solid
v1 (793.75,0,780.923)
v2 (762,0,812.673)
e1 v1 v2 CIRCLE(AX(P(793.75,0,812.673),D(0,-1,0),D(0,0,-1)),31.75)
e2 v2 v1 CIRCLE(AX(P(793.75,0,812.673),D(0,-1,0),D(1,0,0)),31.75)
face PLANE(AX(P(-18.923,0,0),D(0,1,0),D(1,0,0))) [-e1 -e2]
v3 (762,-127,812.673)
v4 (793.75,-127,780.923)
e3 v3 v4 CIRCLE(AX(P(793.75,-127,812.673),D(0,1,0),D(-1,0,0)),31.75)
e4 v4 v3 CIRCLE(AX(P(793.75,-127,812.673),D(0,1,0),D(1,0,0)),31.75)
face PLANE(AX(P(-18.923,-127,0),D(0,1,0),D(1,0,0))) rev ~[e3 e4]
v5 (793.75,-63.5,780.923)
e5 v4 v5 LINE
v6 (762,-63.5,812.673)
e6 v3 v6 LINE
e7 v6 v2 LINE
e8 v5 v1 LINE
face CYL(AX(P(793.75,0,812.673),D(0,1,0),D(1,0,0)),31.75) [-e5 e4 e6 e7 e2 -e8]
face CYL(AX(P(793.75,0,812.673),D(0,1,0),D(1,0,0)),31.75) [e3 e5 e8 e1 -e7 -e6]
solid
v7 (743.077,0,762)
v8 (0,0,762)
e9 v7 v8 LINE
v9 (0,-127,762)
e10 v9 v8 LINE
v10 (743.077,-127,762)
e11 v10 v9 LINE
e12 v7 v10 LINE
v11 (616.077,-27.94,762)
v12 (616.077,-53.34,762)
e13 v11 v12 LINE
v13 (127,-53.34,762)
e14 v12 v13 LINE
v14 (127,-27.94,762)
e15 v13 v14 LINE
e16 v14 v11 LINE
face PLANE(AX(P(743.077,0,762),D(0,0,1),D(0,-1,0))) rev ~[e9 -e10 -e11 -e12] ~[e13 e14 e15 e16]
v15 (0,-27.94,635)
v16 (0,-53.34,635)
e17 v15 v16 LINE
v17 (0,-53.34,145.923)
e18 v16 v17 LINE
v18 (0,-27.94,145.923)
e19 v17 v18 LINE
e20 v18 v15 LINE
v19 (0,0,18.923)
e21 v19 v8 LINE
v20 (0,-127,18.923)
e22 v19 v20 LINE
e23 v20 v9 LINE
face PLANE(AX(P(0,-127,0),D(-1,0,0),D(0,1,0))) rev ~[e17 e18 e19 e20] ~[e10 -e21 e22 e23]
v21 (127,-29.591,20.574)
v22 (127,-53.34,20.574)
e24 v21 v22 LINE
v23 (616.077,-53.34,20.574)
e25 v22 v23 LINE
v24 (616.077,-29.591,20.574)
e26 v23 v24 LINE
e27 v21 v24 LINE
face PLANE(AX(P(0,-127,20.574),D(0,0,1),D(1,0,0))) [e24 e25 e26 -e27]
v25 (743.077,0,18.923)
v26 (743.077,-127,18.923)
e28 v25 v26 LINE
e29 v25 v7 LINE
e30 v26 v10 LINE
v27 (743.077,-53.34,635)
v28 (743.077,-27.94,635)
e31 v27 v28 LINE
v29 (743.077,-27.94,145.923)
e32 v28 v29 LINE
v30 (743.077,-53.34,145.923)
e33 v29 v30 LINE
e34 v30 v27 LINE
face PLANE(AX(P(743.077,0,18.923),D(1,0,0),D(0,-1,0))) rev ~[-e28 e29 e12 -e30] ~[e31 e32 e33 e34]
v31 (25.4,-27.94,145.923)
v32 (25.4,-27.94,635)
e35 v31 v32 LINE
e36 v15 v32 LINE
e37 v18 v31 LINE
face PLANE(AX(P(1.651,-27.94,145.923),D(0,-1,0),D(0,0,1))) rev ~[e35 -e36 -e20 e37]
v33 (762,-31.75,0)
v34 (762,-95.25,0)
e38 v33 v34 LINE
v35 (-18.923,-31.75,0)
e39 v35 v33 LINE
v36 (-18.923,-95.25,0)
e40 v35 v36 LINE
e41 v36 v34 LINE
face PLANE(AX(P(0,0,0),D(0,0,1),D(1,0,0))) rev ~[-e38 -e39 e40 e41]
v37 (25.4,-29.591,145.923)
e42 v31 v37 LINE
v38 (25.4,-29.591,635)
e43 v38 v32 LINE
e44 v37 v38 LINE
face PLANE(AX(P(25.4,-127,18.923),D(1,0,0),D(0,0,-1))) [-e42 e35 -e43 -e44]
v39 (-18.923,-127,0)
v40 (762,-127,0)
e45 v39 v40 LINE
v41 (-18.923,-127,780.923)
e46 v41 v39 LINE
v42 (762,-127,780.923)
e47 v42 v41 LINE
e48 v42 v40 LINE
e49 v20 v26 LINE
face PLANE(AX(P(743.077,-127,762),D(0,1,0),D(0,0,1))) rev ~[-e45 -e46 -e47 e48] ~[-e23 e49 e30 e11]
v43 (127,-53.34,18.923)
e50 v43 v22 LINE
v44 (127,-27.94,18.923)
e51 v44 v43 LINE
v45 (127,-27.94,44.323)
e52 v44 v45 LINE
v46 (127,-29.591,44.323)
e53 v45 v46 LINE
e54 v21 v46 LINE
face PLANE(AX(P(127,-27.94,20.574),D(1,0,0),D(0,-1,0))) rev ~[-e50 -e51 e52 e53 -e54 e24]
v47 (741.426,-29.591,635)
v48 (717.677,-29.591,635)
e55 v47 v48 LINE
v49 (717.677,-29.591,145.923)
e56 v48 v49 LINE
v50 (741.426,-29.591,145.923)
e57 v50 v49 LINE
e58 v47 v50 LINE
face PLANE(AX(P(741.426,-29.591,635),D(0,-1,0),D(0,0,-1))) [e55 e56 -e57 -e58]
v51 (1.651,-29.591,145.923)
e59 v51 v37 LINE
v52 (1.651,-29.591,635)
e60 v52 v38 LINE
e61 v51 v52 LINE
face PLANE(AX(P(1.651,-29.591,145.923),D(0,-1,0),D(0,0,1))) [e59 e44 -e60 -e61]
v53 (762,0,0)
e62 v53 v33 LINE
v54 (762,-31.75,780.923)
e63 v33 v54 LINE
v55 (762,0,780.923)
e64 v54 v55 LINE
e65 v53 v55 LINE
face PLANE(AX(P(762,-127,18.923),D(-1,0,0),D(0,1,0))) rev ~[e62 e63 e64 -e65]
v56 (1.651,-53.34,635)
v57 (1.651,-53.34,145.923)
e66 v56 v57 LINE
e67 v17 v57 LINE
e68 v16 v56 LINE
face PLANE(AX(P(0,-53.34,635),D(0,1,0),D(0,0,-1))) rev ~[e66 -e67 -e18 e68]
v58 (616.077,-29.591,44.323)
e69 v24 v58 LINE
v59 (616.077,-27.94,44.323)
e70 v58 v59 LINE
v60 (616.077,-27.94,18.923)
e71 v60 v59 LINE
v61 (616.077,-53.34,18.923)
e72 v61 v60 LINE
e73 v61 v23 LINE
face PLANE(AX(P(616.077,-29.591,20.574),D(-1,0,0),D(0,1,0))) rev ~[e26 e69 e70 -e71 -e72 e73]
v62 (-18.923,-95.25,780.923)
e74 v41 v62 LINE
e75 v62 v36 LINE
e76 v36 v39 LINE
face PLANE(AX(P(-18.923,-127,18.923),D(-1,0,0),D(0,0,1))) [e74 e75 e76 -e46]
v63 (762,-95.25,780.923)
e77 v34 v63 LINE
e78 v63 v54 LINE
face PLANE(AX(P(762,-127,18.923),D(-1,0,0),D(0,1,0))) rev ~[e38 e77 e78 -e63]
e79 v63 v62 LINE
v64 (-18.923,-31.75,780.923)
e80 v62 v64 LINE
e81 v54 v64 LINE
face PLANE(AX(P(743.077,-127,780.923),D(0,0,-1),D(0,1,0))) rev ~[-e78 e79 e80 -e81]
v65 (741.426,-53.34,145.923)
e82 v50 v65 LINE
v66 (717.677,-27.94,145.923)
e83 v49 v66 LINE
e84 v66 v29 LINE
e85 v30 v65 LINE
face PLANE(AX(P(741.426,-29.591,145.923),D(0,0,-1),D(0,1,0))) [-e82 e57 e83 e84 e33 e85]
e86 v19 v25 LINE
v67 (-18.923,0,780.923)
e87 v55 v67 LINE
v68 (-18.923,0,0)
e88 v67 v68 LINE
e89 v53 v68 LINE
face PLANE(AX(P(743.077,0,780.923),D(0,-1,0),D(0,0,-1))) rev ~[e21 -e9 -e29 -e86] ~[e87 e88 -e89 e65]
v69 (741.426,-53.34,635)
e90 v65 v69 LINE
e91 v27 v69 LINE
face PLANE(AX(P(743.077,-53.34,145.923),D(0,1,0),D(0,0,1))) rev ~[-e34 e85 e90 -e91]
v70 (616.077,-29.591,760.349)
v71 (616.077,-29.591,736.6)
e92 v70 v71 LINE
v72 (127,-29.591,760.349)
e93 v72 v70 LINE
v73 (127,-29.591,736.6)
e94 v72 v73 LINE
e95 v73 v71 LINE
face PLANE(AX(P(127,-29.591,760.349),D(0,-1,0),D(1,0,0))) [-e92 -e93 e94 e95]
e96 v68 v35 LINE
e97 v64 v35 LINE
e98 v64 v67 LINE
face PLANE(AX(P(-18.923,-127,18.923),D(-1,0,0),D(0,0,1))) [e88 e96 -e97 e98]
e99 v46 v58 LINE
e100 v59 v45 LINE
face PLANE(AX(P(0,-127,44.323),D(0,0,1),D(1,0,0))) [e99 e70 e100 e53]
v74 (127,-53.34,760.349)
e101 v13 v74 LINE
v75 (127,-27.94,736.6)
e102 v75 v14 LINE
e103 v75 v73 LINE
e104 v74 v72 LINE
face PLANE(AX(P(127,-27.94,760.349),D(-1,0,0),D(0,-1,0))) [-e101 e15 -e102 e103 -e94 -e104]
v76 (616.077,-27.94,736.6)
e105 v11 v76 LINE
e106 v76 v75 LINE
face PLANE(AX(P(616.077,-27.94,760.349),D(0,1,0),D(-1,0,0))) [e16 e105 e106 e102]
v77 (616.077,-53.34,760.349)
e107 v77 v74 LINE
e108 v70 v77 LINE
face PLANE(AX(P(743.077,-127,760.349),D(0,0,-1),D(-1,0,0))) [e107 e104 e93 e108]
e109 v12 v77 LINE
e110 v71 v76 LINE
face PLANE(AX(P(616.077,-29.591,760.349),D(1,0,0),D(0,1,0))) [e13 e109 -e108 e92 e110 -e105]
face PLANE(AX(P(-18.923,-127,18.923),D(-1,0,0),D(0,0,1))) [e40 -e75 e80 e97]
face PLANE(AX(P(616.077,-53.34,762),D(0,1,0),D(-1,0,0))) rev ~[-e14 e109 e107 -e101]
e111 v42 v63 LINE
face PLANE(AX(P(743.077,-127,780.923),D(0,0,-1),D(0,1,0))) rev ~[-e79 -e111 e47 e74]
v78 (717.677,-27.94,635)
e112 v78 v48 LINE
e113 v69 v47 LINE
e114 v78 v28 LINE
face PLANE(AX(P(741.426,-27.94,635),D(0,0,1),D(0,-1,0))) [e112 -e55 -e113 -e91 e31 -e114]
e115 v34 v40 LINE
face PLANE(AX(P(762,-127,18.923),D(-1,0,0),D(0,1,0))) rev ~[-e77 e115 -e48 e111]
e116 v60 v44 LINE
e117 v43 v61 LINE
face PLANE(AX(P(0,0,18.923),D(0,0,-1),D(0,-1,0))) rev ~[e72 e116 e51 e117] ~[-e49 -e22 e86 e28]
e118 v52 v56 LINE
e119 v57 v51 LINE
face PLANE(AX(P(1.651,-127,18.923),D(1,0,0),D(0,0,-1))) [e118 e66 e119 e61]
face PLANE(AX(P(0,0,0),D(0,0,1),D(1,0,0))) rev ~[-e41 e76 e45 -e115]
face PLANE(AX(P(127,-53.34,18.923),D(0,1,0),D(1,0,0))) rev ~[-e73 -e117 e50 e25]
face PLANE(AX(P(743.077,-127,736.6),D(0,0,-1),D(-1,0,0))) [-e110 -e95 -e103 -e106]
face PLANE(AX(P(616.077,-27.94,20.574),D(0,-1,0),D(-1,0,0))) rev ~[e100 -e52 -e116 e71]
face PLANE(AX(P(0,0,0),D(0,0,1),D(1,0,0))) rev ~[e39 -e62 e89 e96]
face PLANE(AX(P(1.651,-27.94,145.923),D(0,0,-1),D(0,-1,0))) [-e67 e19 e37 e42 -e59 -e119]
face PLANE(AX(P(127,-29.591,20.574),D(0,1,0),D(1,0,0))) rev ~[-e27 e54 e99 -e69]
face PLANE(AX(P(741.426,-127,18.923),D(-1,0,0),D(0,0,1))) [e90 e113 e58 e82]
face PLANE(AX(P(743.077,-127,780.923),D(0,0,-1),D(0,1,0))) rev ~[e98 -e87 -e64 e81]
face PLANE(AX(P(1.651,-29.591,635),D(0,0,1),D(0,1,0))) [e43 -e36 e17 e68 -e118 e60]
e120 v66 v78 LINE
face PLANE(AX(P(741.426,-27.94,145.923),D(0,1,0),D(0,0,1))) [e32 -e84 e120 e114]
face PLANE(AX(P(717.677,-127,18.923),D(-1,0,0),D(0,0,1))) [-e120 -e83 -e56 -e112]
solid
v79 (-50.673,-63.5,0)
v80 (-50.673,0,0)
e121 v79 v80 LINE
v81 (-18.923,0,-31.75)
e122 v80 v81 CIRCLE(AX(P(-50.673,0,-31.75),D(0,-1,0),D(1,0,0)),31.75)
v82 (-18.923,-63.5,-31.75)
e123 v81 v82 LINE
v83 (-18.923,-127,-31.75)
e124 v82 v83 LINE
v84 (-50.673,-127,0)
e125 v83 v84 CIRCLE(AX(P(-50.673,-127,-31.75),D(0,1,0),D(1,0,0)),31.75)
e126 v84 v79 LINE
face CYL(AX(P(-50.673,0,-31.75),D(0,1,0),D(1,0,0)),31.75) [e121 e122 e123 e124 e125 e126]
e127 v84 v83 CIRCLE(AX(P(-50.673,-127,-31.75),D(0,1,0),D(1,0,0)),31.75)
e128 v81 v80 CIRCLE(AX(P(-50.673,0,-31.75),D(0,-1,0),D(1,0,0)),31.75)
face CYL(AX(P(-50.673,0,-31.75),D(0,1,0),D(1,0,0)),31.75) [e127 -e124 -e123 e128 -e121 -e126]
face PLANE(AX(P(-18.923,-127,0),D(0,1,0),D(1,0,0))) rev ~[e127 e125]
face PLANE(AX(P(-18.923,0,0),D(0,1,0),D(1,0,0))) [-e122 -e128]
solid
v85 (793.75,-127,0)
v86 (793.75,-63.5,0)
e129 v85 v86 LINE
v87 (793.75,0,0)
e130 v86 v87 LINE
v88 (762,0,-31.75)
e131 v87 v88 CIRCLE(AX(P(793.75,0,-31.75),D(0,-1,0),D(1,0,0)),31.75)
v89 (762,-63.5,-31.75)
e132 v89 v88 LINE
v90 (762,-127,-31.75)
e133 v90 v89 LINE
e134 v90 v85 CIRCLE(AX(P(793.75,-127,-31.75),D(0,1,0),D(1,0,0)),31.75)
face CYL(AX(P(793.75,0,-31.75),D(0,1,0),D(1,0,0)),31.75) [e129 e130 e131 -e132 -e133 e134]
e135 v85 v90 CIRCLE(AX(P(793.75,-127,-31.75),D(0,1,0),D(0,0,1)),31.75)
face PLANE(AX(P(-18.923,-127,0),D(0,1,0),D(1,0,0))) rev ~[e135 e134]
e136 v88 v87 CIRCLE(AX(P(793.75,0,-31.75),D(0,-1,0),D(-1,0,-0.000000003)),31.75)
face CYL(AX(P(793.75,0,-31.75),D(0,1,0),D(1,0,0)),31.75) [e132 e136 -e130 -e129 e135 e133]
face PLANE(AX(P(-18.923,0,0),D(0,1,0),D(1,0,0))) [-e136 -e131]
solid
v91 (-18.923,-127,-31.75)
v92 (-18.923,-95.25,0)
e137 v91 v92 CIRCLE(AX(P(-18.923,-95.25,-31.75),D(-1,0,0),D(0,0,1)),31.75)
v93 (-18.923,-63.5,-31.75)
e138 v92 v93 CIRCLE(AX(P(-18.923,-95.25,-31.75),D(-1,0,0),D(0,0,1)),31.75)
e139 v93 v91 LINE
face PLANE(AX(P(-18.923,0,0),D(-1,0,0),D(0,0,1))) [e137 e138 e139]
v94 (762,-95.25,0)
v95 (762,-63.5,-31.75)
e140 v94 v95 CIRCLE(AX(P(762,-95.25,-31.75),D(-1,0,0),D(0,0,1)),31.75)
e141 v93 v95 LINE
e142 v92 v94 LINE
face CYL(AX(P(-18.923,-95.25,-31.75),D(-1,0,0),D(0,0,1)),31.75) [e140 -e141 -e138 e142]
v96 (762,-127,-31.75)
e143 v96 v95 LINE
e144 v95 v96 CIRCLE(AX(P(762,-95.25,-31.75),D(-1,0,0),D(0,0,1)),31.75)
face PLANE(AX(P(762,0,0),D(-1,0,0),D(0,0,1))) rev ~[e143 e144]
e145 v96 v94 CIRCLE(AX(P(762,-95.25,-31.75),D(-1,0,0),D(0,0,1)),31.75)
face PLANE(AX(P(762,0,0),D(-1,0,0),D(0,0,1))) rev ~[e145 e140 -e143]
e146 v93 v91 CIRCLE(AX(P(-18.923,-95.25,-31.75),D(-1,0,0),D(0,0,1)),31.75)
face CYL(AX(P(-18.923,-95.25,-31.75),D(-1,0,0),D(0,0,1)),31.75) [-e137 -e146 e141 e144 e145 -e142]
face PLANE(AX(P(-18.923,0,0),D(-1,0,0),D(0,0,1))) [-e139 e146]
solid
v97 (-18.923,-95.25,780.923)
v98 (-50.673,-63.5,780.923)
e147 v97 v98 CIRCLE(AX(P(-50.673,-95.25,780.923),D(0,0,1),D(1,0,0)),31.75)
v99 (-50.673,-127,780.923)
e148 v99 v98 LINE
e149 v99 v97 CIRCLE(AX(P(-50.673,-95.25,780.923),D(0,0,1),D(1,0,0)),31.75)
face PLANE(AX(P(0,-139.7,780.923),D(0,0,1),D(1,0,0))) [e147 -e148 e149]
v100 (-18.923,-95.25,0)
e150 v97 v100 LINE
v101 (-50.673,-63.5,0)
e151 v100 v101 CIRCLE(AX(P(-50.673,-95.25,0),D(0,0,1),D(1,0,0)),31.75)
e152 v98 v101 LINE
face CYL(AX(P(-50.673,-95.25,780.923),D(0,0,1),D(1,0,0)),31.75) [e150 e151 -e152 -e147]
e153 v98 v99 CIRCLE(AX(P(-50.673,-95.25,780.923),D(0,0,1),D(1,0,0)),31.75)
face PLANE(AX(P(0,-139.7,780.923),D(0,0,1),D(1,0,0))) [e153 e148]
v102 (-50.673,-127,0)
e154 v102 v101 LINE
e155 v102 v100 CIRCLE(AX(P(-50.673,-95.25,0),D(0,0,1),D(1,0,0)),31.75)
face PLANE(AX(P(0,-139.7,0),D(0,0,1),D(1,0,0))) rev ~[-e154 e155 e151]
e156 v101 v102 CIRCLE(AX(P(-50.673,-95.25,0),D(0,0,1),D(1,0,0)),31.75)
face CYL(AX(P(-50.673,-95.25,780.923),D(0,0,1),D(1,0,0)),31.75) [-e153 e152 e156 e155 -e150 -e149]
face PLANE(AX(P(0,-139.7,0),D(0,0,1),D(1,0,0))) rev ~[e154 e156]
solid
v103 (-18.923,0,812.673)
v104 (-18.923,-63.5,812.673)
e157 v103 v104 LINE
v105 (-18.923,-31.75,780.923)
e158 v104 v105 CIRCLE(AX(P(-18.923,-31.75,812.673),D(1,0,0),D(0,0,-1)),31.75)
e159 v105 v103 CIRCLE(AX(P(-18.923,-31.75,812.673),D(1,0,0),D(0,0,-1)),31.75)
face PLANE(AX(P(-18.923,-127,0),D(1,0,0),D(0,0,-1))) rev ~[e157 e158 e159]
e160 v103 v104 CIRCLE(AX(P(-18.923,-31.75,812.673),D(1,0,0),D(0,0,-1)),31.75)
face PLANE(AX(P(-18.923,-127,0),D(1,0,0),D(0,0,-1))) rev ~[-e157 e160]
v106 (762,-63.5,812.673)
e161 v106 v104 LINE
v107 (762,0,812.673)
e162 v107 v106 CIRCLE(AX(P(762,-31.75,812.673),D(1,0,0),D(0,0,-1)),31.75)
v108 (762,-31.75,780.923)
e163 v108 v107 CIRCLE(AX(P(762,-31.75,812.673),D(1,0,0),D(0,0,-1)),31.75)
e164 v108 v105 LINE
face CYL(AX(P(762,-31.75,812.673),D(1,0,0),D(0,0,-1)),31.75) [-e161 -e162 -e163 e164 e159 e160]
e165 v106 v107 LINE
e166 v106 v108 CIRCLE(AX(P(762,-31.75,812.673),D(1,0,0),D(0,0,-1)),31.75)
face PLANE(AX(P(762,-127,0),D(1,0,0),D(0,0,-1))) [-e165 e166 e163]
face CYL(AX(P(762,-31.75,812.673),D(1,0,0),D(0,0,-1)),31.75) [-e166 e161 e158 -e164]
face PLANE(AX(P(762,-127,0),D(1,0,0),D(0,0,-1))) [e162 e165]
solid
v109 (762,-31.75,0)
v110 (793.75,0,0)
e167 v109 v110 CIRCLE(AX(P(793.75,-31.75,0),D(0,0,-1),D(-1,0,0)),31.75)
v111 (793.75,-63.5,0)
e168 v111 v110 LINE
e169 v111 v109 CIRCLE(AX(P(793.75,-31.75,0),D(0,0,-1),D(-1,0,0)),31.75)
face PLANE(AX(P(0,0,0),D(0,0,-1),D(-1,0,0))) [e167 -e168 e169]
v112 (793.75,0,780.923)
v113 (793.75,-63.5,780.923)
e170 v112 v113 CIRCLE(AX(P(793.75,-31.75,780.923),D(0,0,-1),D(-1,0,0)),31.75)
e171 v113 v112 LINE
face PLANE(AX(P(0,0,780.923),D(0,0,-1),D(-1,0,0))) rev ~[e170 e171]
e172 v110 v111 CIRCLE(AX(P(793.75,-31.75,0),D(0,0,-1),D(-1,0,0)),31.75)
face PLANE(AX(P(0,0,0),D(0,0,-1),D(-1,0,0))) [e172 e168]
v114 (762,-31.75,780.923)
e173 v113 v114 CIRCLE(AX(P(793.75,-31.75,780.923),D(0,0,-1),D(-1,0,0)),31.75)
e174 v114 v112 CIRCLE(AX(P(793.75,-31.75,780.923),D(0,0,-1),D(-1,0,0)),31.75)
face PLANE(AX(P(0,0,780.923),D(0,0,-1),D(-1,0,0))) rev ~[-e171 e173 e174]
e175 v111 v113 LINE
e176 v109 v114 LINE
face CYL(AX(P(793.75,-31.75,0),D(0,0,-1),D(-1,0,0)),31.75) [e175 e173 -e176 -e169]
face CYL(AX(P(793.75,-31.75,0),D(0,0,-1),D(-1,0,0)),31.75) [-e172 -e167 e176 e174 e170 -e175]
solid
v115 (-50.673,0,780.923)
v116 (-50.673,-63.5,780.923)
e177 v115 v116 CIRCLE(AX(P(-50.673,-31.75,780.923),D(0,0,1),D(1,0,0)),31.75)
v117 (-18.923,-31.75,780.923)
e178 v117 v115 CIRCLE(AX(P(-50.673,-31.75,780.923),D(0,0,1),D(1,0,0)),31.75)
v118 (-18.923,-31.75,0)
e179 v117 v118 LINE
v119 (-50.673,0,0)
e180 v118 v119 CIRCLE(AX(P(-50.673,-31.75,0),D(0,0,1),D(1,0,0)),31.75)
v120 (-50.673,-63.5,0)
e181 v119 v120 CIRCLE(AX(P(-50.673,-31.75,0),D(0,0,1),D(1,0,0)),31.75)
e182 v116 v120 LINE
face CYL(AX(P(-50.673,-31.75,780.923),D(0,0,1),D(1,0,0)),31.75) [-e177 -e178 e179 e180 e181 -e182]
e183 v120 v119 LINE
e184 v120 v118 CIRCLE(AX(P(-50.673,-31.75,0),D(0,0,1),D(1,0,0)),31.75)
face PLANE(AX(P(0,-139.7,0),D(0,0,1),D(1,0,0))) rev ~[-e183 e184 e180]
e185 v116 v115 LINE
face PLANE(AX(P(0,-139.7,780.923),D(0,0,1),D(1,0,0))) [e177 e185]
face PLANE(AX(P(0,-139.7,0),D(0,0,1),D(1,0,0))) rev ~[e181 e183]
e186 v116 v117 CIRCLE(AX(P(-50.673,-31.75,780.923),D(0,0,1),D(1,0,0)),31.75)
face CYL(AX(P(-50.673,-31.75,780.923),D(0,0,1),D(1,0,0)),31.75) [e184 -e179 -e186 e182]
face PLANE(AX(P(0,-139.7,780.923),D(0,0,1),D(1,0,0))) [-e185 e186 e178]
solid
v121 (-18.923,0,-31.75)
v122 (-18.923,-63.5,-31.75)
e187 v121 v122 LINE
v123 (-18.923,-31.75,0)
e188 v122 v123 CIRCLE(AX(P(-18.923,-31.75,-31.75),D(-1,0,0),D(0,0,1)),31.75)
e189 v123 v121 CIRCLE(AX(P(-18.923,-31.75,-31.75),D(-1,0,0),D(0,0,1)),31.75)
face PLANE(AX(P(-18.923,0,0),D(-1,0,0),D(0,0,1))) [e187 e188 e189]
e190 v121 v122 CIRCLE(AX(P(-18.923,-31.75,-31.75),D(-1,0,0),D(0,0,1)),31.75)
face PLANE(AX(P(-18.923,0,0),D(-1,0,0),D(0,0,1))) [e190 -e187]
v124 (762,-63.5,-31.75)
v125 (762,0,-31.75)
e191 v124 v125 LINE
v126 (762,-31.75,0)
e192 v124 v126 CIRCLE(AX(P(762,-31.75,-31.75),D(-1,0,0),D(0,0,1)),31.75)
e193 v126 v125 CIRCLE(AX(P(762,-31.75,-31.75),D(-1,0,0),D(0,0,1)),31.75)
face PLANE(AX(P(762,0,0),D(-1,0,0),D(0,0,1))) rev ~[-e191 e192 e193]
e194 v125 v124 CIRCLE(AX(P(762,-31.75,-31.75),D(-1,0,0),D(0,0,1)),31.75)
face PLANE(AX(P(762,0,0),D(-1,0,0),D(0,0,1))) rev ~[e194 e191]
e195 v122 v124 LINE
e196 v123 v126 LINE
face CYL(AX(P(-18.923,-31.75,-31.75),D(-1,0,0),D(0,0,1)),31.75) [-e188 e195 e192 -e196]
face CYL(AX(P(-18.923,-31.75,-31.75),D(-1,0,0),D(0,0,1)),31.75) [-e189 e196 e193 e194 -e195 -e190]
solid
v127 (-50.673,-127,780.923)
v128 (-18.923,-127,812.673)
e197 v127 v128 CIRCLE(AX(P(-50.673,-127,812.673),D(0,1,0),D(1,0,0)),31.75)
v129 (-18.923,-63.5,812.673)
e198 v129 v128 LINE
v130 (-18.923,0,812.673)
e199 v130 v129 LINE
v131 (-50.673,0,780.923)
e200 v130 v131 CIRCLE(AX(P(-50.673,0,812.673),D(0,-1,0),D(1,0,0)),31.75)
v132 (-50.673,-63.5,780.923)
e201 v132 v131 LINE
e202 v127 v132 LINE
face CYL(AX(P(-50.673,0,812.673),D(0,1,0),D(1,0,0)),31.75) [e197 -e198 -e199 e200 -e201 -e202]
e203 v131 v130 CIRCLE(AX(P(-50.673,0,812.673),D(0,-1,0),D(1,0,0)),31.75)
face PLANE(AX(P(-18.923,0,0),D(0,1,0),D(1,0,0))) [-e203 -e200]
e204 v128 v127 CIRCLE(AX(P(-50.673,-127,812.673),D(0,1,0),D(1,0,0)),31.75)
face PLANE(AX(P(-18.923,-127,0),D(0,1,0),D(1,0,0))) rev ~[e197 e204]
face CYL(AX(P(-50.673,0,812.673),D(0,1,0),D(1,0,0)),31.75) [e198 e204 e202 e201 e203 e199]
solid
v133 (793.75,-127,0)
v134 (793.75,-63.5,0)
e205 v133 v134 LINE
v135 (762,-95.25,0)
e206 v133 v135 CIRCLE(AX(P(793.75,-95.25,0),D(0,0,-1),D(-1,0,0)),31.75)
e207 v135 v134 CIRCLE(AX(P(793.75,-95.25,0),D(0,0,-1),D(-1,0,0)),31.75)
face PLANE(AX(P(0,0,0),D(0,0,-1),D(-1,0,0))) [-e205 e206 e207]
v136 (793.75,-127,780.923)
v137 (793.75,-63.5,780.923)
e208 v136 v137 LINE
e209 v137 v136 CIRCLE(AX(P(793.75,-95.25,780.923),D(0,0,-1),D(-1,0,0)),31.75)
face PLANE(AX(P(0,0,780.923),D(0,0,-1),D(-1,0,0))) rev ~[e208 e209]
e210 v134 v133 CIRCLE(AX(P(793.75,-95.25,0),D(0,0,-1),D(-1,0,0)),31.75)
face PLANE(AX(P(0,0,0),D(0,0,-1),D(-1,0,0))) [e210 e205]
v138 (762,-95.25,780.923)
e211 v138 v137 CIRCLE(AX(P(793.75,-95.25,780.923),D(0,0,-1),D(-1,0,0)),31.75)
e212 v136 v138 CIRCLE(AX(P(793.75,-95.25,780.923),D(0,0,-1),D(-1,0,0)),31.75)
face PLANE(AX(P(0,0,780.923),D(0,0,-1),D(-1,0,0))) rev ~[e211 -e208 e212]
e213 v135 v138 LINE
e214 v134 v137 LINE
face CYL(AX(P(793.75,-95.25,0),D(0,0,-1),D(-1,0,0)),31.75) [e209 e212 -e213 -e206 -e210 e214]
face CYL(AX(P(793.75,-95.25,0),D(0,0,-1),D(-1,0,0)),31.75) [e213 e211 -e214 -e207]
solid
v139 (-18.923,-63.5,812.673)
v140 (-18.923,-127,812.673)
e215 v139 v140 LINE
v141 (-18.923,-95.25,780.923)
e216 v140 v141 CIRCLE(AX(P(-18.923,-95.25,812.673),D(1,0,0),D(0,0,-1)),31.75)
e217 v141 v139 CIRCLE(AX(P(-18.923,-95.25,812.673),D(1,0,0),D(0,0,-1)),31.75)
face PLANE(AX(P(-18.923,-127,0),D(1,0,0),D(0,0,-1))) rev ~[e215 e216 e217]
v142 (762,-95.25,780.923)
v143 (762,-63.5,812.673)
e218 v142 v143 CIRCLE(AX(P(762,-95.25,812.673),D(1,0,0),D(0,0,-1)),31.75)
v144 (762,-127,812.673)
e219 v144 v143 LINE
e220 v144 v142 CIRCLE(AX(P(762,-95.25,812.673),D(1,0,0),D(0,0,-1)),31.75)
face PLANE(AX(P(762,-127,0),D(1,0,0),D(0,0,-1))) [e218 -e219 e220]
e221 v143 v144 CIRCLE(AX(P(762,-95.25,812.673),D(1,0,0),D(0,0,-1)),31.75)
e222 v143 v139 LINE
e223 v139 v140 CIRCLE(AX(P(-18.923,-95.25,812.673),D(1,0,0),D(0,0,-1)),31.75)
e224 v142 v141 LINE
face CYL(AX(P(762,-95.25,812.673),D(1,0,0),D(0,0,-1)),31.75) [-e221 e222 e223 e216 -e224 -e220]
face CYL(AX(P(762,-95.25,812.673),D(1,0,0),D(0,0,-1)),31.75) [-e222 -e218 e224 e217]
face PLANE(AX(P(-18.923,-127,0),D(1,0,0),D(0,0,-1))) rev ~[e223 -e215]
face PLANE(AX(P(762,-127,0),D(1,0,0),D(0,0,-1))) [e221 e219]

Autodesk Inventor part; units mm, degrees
ref_plane "YZ Plane" through (0, 0, 0) normal (1, 0, 0) x (0, 1, 0)
ref_plane "XZ Plane" through (0, 0, 0) normal (0, 1, 0) x (-1, 0, 0)
ref_plane "XY Plane" through (0, 0, 0) normal (0, 0, 1) x (1, 0, 0)
sketch "Sketch1" plane through (0, 0, 0) normal (0, 0, 1) x (1, 0, 0)
  line L0 (0, 0) -> (-18.923, 0)
  line L1 (-18.923, 0) -> (-18.923, -127)
  line L2 (-18.923, -127) -> (0, -127)
  line L3 (0, -127) -> (0, 0)
  dimension "d0" = 127
  dimension "d1" = 18.923
extrude "Extrusion1" add sketch "Sketch1" along normal blind 762
sketch "Sketch2" plane through (0, -127, 0) normal (1, 0, 0) x (0, 0, -1)
  line L0 (0, 127) -> (0, 0) projected
  line L1 (0, 127) -> (-18.923, 127)
  line L2 (-18.923, 127) -> (-18.923, 0)
  line L3 (-18.923, 0) -> (0, 0)
  line L4 (0, 0) -> (0, 127)
  dimension "d4" = 18.923
  dimension "d21" = 127
extrude "Extrusion2" add sketch "Sketch2" along normal blind 762
sketch "Sketch3" plane through (0, -139.7, 18.923) normal (0, 0, 1) x (1, 0, 0)
  line L0 (762, 139.7) -> (-18.923, 139.7) projected
  line L1 (762, 139.7) -> (743.077, 139.7)
  line L2 (743.077, 139.7) -> (743.077, 12.7)
  line L3 (743.077, 12.7) -> (762, 12.7)
  line L4 (762, 12.7) -> (762, 139.7)
  line L5 (0, 12.7) -> (762, 12.7) projected
  point P0 (0, 139.7)
  dimension "d8" = 18.923
extrude "Extrusion3" add sketch "Sketch3" along normal blind 762
sketch "Sketch4" plane through (743.077, -127, 18.923) normal (-1, 0, 0) x (0, 0, 1)
  line L0 (762, 0) -> (762, 127) projected
  line L1 (762, 127) -> (743.077, 127)
  line L2 (743.077, 127) -> (743.077, 0)
  line L3 (743.077, 0) -> (762, 0)
  line L4 (762, 0) -> (762, 127)
  line L5 (0, 0) -> (762, 0) projected
  point P0 (-18.923, 127)
  dimension "d11" = 18.923
  dimension "d12" = 0
extrude "Extrusion4" add sketch "Sketch4" along normal blind 762
sketch "Sketch8" plane through (0, -139.7, 780.923) normal (0, 0, 1) x (1, 0, 0)
  circle A0 centre (-50.673, 107.95) radius 31.75
  circle A1 centre (-50.673, 44.45) radius 31.75
  line L0 (762, 12.7) -> (-18.923, 12.7) projected
  line L1 (762, 139.7) -> (-18.923, 139.7) projected
  line L2 (-18.923, 12.7) -> (-18.923, 139.7) projected
  point P0 (0, 139.7)
  dimension "d32" = 63.5
  dimension "d33" = 63.5
  dimension "d35" = 31.75
  dimension "d36" = 31.75
  dimension "d37" = 31.75
  dimension "d38" = 31.75
extrude "Extrusion7" add sketch "Sketch8" against normal blind 780.923 contours A0 | A1
sketch "Sketch10" plane through (-18.923, 0, 0) normal (-1, 0, 0) x (0, 0, 1)
  circle A0 centre (-31.75, -31.75) radius 31.75
  circle A1 centre (-31.75, -95.25) radius 31.75
  line L0 (0, 0) -> (0, -31.75) projected
  line L1 (0, 0) -> (780.923, 0) projected
  line L2 (0, 0) -> (0, -31.75) projected
  point P0 (0, -127)
  point P1 (0, -95.25)
  dimension "d41" = 63.5
  dimension "d42" = 63.5
  dimension "d43" = 31.75
  dimension "d44" = 31.75
  dimension "d45" = 31.75
  dimension "d46" = 31.75
  dimension "d47" = 31.75
extrude "Extrusion8" add sketch "Sketch10" against normal blind 780.923
sketch "Sketch12" plane through (0, 0, 0) normal (0, 0, -1) x (-1, 0, 0)
  circle A0 centre (-793.75, -31.75) radius 31.75
  circle A1 centre (-793.75, -95.25) radius 31.75
  line L0 (-762, -63.5) -> (-762, -127) projected
  line L1 (-762, 0) -> (-762, -63.5) projected
  line L2 (-762, 0) -> (18.923, 0) projected
  line L3 (18.923, -127) -> (-762, -127) projected
  point P0 (0, 0)
  point P1 (-762, -95.25)
  point P2 (-762, -31.75)
  dimension "d50" = 63.5
  dimension "d51" = 63.5
  dimension "d52" = 31.75
  dimension "d53" = 31.75
  dimension "d54" = 31.75
  dimension "d55" = 31.75
extrude "Extrusion9" add sketch "Sketch12" against normal blind 780.923 contours A0 | A1
sketch "Sketch13" plane through (762, -127, 0) normal (1, 0, 0) x (0, 0, -1)
  circle A0 centre (-812.673, 95.25) radius 31.75
  circle A1 centre (-812.673, 31.75) radius 31.75
  line L0 (0, 127) -> (-780.923, 127) projected
  line L1 (-780.923, 127) -> (-780.923, 63.5) projected
  line L2 (-780.923, 63.5) -> (-780.923, 0) projected
  point P0 (0, 0)
  point P1 (-762, -95.25)
  point P2 (-762, -31.75)
  point P3 (-780.923, 95.25)
  point P4 (-780.923, 31.75)
  dimension "d58" = 63.5
  dimension "d59" = 63.5
  dimension "d64" = 63.5
  dimension "d65" = 31.75
  dimension "d66" = 31.75
  dimension "d67" = 31.75
extrude "Extrusion10" add sketch "Sketch13" against normal blind 780.923 contours A0 | A1
sketch "Sketch14" plane through (-18.923, 0, 0) normal (0, 1, 0) x (1, 0, 0)
  line L0 (780.923, 0) -> (812.673, 0) projected
  circle A0 centre (812.673, 31.75) radius 31.75
  line L1 (780.923, 0) -> (844.423, 0) projected
  line L2 (780.923, 0) -> (780.923, 63.5) projected
  circle A1 centre (-31.75, 31.75) radius 31.75
  line L3 (0, 0) -> (0, 63.5) projected
  line L4 (0, 0) -> (-63.5, 0) projected
  circle A2 centre (-31.75, -812.673) radius 31.75
  line L5 (0, -780.923) -> (-63.5, -780.923) projected
  line L6 (0, -780.923) -> (0, -844.423) projected
  circle A3 centre (812.673, -812.673) radius 31.75
  line L7 (780.923, -780.923) -> (844.423, -780.923) projected
  line L8 (780.923, -780.923) -> (780.923, -844.423) projected
  point P0 (18.923, 0)
  point P1 (780.923, 31.75)
  point P2 (0, 31.75)
  point P3 (-31.75, 0)
  point P4 (-31.75, -780.923)
  point P5 (0, -812.673)
  point P6 (812.673, -780.923)
  point P7 (780.923, -812.673)
  dimension "d73" = 63.5
  dimension "d76" = 63.5
  dimension "d70" = 31.75
  dimension "d71" = 63.5
  dimension "d72" = 31.75
  dimension "d74" = 31.75
  dimension "d75" = 31.75
  dimension "d77" = 31.75
  dimension "d78" = 31.75
  dimension "d79" = 63.5
  dimension "d80" = 31.75
  dimension "d81" = 31.75
extrude "Extrusion11" add sketch "Sketch14" against normal blind 127 contours A0 | A1 | A2 | A3
sketch "Sketch15" plane through (0, -127, 18.923) normal (1, 0, 0) x (0, 0, -1)
  line L0 (0, 0) -> (0, 127) projected
  line L1 (-743.077, 0) -> (-743.077, 127) projected
  line L2 (0, 0) -> (-743.077, 0) projected
  line L3 (18.923, 0) -> (-762, 0) projected
  line L4 (-616.077, 73.66) -> (-127, 73.66)
  line L5 (-127, 73.66) -> (-127, 99.06)
  line L6 (-127, 99.06) -> (-616.077, 99.06)
  line L7 (-616.077, 99.06) -> (-616.077, 73.66)
  point P0 (18.923, 127)
  point P1 (-127, 0)
  point P2 (-590.677, 0)
  point P3 (-152.4, 0)
  point P4 (-336.677, 0)
  point P5 (-762, 0)
  dimension "d99" = 25.4
  dimension "d100" = 73.66
  dimension "d101" = 127
  dimension "d102" = 127
extrude "Extrusion15" add sketch "Sketch15" along normal blind 1.651
sketch "Sketch17" plane through (1.651, -127, 18.923) normal (1, 0, 0) x (0, 0, -1)
  line L0 (-127, 99.06) -> (-616.077, 99.06) projected
  line L1 (-127, 99.06) -> (-127, 73.66) projected
  line L2 (-616.077, 99.06) -> (-127, 99.06)
  line L3 (-127, 99.06) -> (-127, 97.409)
  line L4 (-127, 97.409) -> (-616.077, 97.409)
  line L5 (-616.077, 97.409) -> (-616.077, 99.06)
  point P0 (18.923, 127)
  dimension "d105" = 1.651
extrude "Extrusion16" add sketch "Sketch17" along normal blind 23.749
sketch "Sketch20" plane through (743.077, -127, 762) normal (0, 0, -1) x (-1, 0, 0)
  line L0 (127, 73.66) -> (616.077, 73.66)
  line L1 (616.077, 73.66) -> (616.077, 99.06)
  line L2 (616.077, 99.06) -> (127, 99.06)
  line L3 (127, 99.06) -> (127, 73.66)
  line L4 (0, 0) -> (743.077, 0) projected
  line L5 (743.077, 0) -> (743.077, 127) projected
  line L6 (0, 0) -> (0, 127) projected
  dimension "d115" = 25.4
  dimension "d116" = 73.66
  dimension "d117" = 127
  dimension "d118" = 489.077
  dimension "d119" = 127
extrude "Extrusion19" add sketch "Sketch20" along normal blind 1.651
sketch "Sketch21" plane through (743.077, -127, 18.923) normal (-1, 0, 0) x (0, 0, 1)
  line L0 (127, 73.66) -> (616.077, 73.66)
  line L1 (616.077, 73.66) -> (616.077, 99.06)
  line L2 (616.077, 99.06) -> (127, 99.06)
  line L3 (127, 99.06) -> (127, 73.66)
  line L4 (0, 0) -> (743.077, 0)
  line L5 (743.077, 0) -> (743.077, 127)
  line L6 (0, 0) -> (0, 127)
  dimension "d123" = 25.4
  dimension "d124" = 73.66
  dimension "d122" = 127
  dimension "d125" = 489.077
  dimension "d129" = 127
extrude "Extrusion20" add sketch "Sketch21" along normal blind 1.651
sketch "Sketch22" plane through (0, -127, 18.923) normal (0, 0, 1) x (1, 0, 0)
  line L0 (127, 73.66) -> (616.077, 73.66)
  line L1 (616.077, 73.66) -> (616.077, 99.06)
  line L2 (616.077, 99.06) -> (127, 99.06)
  line L3 (127, 99.06) -> (127, 73.66)
  line L4 (0, 0) -> (743.077, 0)
  line L5 (743.077, 0) -> (743.077, 127)
  line L6 (0, 0) -> (0, 127)
  dimension "d131" = 25.4
  dimension "d132" = 73.66
  dimension "d130" = 127
  dimension "d133" = 489.077
  dimension "d137" = 127
extrude "Extrusion21" add sketch "Sketch22" along normal blind 1.651
sketch "Sketch23" plane through (0, -127, 20.574) normal (0, 0, 1) x (1, 0, 0)
  line L0 (616.077, 99.06) -> (127, 99.06) projected
  line L1 (616.077, 99.06) -> (127, 99.06)
  line L2 (127, 99.06) -> (127, 97.409)
  line L3 (127, 97.409) -> (616.077, 97.409)
  line L4 (616.077, 97.409) -> (616.077, 99.06)
  point P0 (0, 127)
  dimension "d138" = 1.651
extrude "Extrusion22" add sketch "Sketch23" along normal blind 23.749
sketch "Sketch24" plane through (743.077, -127, 760.349) normal (0, 0, -1) x (-1, 0, 0)
  line L0 (127, 99.06) -> (616.077, 99.06)
  line L1 (616.077, 99.06) -> (616.077, 97.409)
  line L2 (616.077, 97.409) -> (127, 97.409)
  line L3 (127, 97.409) -> (127, 99.06)
  point P0 (743.077, 127)
  dimension "d141" = 1.651
extrude "Extrusion23" add sketch "Sketch24" along normal blind 23.749
sketch "Sketch26" plane through (741.426, -127, 18.923) normal (-1, 0, 0) x (0, 0, 1)
  line L0 (127, 73.66) -> (127, 99.06) projected
  line L1 (616.077, 99.06) -> (616.077, 73.66) projected
  line L2 (127, 99.06) -> (616.077, 99.06)
  line L3 (616.077, 99.06) -> (616.077, 97.409)
  line L4 (616.077, 97.409) -> (127, 97.409)
  line L5 (127, 97.409) -> (127, 99.06)
  point P0 (-18.923, 127)
  dimension "d144" = 1.651
extrude "Extrusion24" add sketch "Sketch26" along normal blind 23.749
properties part number "bumpers"
